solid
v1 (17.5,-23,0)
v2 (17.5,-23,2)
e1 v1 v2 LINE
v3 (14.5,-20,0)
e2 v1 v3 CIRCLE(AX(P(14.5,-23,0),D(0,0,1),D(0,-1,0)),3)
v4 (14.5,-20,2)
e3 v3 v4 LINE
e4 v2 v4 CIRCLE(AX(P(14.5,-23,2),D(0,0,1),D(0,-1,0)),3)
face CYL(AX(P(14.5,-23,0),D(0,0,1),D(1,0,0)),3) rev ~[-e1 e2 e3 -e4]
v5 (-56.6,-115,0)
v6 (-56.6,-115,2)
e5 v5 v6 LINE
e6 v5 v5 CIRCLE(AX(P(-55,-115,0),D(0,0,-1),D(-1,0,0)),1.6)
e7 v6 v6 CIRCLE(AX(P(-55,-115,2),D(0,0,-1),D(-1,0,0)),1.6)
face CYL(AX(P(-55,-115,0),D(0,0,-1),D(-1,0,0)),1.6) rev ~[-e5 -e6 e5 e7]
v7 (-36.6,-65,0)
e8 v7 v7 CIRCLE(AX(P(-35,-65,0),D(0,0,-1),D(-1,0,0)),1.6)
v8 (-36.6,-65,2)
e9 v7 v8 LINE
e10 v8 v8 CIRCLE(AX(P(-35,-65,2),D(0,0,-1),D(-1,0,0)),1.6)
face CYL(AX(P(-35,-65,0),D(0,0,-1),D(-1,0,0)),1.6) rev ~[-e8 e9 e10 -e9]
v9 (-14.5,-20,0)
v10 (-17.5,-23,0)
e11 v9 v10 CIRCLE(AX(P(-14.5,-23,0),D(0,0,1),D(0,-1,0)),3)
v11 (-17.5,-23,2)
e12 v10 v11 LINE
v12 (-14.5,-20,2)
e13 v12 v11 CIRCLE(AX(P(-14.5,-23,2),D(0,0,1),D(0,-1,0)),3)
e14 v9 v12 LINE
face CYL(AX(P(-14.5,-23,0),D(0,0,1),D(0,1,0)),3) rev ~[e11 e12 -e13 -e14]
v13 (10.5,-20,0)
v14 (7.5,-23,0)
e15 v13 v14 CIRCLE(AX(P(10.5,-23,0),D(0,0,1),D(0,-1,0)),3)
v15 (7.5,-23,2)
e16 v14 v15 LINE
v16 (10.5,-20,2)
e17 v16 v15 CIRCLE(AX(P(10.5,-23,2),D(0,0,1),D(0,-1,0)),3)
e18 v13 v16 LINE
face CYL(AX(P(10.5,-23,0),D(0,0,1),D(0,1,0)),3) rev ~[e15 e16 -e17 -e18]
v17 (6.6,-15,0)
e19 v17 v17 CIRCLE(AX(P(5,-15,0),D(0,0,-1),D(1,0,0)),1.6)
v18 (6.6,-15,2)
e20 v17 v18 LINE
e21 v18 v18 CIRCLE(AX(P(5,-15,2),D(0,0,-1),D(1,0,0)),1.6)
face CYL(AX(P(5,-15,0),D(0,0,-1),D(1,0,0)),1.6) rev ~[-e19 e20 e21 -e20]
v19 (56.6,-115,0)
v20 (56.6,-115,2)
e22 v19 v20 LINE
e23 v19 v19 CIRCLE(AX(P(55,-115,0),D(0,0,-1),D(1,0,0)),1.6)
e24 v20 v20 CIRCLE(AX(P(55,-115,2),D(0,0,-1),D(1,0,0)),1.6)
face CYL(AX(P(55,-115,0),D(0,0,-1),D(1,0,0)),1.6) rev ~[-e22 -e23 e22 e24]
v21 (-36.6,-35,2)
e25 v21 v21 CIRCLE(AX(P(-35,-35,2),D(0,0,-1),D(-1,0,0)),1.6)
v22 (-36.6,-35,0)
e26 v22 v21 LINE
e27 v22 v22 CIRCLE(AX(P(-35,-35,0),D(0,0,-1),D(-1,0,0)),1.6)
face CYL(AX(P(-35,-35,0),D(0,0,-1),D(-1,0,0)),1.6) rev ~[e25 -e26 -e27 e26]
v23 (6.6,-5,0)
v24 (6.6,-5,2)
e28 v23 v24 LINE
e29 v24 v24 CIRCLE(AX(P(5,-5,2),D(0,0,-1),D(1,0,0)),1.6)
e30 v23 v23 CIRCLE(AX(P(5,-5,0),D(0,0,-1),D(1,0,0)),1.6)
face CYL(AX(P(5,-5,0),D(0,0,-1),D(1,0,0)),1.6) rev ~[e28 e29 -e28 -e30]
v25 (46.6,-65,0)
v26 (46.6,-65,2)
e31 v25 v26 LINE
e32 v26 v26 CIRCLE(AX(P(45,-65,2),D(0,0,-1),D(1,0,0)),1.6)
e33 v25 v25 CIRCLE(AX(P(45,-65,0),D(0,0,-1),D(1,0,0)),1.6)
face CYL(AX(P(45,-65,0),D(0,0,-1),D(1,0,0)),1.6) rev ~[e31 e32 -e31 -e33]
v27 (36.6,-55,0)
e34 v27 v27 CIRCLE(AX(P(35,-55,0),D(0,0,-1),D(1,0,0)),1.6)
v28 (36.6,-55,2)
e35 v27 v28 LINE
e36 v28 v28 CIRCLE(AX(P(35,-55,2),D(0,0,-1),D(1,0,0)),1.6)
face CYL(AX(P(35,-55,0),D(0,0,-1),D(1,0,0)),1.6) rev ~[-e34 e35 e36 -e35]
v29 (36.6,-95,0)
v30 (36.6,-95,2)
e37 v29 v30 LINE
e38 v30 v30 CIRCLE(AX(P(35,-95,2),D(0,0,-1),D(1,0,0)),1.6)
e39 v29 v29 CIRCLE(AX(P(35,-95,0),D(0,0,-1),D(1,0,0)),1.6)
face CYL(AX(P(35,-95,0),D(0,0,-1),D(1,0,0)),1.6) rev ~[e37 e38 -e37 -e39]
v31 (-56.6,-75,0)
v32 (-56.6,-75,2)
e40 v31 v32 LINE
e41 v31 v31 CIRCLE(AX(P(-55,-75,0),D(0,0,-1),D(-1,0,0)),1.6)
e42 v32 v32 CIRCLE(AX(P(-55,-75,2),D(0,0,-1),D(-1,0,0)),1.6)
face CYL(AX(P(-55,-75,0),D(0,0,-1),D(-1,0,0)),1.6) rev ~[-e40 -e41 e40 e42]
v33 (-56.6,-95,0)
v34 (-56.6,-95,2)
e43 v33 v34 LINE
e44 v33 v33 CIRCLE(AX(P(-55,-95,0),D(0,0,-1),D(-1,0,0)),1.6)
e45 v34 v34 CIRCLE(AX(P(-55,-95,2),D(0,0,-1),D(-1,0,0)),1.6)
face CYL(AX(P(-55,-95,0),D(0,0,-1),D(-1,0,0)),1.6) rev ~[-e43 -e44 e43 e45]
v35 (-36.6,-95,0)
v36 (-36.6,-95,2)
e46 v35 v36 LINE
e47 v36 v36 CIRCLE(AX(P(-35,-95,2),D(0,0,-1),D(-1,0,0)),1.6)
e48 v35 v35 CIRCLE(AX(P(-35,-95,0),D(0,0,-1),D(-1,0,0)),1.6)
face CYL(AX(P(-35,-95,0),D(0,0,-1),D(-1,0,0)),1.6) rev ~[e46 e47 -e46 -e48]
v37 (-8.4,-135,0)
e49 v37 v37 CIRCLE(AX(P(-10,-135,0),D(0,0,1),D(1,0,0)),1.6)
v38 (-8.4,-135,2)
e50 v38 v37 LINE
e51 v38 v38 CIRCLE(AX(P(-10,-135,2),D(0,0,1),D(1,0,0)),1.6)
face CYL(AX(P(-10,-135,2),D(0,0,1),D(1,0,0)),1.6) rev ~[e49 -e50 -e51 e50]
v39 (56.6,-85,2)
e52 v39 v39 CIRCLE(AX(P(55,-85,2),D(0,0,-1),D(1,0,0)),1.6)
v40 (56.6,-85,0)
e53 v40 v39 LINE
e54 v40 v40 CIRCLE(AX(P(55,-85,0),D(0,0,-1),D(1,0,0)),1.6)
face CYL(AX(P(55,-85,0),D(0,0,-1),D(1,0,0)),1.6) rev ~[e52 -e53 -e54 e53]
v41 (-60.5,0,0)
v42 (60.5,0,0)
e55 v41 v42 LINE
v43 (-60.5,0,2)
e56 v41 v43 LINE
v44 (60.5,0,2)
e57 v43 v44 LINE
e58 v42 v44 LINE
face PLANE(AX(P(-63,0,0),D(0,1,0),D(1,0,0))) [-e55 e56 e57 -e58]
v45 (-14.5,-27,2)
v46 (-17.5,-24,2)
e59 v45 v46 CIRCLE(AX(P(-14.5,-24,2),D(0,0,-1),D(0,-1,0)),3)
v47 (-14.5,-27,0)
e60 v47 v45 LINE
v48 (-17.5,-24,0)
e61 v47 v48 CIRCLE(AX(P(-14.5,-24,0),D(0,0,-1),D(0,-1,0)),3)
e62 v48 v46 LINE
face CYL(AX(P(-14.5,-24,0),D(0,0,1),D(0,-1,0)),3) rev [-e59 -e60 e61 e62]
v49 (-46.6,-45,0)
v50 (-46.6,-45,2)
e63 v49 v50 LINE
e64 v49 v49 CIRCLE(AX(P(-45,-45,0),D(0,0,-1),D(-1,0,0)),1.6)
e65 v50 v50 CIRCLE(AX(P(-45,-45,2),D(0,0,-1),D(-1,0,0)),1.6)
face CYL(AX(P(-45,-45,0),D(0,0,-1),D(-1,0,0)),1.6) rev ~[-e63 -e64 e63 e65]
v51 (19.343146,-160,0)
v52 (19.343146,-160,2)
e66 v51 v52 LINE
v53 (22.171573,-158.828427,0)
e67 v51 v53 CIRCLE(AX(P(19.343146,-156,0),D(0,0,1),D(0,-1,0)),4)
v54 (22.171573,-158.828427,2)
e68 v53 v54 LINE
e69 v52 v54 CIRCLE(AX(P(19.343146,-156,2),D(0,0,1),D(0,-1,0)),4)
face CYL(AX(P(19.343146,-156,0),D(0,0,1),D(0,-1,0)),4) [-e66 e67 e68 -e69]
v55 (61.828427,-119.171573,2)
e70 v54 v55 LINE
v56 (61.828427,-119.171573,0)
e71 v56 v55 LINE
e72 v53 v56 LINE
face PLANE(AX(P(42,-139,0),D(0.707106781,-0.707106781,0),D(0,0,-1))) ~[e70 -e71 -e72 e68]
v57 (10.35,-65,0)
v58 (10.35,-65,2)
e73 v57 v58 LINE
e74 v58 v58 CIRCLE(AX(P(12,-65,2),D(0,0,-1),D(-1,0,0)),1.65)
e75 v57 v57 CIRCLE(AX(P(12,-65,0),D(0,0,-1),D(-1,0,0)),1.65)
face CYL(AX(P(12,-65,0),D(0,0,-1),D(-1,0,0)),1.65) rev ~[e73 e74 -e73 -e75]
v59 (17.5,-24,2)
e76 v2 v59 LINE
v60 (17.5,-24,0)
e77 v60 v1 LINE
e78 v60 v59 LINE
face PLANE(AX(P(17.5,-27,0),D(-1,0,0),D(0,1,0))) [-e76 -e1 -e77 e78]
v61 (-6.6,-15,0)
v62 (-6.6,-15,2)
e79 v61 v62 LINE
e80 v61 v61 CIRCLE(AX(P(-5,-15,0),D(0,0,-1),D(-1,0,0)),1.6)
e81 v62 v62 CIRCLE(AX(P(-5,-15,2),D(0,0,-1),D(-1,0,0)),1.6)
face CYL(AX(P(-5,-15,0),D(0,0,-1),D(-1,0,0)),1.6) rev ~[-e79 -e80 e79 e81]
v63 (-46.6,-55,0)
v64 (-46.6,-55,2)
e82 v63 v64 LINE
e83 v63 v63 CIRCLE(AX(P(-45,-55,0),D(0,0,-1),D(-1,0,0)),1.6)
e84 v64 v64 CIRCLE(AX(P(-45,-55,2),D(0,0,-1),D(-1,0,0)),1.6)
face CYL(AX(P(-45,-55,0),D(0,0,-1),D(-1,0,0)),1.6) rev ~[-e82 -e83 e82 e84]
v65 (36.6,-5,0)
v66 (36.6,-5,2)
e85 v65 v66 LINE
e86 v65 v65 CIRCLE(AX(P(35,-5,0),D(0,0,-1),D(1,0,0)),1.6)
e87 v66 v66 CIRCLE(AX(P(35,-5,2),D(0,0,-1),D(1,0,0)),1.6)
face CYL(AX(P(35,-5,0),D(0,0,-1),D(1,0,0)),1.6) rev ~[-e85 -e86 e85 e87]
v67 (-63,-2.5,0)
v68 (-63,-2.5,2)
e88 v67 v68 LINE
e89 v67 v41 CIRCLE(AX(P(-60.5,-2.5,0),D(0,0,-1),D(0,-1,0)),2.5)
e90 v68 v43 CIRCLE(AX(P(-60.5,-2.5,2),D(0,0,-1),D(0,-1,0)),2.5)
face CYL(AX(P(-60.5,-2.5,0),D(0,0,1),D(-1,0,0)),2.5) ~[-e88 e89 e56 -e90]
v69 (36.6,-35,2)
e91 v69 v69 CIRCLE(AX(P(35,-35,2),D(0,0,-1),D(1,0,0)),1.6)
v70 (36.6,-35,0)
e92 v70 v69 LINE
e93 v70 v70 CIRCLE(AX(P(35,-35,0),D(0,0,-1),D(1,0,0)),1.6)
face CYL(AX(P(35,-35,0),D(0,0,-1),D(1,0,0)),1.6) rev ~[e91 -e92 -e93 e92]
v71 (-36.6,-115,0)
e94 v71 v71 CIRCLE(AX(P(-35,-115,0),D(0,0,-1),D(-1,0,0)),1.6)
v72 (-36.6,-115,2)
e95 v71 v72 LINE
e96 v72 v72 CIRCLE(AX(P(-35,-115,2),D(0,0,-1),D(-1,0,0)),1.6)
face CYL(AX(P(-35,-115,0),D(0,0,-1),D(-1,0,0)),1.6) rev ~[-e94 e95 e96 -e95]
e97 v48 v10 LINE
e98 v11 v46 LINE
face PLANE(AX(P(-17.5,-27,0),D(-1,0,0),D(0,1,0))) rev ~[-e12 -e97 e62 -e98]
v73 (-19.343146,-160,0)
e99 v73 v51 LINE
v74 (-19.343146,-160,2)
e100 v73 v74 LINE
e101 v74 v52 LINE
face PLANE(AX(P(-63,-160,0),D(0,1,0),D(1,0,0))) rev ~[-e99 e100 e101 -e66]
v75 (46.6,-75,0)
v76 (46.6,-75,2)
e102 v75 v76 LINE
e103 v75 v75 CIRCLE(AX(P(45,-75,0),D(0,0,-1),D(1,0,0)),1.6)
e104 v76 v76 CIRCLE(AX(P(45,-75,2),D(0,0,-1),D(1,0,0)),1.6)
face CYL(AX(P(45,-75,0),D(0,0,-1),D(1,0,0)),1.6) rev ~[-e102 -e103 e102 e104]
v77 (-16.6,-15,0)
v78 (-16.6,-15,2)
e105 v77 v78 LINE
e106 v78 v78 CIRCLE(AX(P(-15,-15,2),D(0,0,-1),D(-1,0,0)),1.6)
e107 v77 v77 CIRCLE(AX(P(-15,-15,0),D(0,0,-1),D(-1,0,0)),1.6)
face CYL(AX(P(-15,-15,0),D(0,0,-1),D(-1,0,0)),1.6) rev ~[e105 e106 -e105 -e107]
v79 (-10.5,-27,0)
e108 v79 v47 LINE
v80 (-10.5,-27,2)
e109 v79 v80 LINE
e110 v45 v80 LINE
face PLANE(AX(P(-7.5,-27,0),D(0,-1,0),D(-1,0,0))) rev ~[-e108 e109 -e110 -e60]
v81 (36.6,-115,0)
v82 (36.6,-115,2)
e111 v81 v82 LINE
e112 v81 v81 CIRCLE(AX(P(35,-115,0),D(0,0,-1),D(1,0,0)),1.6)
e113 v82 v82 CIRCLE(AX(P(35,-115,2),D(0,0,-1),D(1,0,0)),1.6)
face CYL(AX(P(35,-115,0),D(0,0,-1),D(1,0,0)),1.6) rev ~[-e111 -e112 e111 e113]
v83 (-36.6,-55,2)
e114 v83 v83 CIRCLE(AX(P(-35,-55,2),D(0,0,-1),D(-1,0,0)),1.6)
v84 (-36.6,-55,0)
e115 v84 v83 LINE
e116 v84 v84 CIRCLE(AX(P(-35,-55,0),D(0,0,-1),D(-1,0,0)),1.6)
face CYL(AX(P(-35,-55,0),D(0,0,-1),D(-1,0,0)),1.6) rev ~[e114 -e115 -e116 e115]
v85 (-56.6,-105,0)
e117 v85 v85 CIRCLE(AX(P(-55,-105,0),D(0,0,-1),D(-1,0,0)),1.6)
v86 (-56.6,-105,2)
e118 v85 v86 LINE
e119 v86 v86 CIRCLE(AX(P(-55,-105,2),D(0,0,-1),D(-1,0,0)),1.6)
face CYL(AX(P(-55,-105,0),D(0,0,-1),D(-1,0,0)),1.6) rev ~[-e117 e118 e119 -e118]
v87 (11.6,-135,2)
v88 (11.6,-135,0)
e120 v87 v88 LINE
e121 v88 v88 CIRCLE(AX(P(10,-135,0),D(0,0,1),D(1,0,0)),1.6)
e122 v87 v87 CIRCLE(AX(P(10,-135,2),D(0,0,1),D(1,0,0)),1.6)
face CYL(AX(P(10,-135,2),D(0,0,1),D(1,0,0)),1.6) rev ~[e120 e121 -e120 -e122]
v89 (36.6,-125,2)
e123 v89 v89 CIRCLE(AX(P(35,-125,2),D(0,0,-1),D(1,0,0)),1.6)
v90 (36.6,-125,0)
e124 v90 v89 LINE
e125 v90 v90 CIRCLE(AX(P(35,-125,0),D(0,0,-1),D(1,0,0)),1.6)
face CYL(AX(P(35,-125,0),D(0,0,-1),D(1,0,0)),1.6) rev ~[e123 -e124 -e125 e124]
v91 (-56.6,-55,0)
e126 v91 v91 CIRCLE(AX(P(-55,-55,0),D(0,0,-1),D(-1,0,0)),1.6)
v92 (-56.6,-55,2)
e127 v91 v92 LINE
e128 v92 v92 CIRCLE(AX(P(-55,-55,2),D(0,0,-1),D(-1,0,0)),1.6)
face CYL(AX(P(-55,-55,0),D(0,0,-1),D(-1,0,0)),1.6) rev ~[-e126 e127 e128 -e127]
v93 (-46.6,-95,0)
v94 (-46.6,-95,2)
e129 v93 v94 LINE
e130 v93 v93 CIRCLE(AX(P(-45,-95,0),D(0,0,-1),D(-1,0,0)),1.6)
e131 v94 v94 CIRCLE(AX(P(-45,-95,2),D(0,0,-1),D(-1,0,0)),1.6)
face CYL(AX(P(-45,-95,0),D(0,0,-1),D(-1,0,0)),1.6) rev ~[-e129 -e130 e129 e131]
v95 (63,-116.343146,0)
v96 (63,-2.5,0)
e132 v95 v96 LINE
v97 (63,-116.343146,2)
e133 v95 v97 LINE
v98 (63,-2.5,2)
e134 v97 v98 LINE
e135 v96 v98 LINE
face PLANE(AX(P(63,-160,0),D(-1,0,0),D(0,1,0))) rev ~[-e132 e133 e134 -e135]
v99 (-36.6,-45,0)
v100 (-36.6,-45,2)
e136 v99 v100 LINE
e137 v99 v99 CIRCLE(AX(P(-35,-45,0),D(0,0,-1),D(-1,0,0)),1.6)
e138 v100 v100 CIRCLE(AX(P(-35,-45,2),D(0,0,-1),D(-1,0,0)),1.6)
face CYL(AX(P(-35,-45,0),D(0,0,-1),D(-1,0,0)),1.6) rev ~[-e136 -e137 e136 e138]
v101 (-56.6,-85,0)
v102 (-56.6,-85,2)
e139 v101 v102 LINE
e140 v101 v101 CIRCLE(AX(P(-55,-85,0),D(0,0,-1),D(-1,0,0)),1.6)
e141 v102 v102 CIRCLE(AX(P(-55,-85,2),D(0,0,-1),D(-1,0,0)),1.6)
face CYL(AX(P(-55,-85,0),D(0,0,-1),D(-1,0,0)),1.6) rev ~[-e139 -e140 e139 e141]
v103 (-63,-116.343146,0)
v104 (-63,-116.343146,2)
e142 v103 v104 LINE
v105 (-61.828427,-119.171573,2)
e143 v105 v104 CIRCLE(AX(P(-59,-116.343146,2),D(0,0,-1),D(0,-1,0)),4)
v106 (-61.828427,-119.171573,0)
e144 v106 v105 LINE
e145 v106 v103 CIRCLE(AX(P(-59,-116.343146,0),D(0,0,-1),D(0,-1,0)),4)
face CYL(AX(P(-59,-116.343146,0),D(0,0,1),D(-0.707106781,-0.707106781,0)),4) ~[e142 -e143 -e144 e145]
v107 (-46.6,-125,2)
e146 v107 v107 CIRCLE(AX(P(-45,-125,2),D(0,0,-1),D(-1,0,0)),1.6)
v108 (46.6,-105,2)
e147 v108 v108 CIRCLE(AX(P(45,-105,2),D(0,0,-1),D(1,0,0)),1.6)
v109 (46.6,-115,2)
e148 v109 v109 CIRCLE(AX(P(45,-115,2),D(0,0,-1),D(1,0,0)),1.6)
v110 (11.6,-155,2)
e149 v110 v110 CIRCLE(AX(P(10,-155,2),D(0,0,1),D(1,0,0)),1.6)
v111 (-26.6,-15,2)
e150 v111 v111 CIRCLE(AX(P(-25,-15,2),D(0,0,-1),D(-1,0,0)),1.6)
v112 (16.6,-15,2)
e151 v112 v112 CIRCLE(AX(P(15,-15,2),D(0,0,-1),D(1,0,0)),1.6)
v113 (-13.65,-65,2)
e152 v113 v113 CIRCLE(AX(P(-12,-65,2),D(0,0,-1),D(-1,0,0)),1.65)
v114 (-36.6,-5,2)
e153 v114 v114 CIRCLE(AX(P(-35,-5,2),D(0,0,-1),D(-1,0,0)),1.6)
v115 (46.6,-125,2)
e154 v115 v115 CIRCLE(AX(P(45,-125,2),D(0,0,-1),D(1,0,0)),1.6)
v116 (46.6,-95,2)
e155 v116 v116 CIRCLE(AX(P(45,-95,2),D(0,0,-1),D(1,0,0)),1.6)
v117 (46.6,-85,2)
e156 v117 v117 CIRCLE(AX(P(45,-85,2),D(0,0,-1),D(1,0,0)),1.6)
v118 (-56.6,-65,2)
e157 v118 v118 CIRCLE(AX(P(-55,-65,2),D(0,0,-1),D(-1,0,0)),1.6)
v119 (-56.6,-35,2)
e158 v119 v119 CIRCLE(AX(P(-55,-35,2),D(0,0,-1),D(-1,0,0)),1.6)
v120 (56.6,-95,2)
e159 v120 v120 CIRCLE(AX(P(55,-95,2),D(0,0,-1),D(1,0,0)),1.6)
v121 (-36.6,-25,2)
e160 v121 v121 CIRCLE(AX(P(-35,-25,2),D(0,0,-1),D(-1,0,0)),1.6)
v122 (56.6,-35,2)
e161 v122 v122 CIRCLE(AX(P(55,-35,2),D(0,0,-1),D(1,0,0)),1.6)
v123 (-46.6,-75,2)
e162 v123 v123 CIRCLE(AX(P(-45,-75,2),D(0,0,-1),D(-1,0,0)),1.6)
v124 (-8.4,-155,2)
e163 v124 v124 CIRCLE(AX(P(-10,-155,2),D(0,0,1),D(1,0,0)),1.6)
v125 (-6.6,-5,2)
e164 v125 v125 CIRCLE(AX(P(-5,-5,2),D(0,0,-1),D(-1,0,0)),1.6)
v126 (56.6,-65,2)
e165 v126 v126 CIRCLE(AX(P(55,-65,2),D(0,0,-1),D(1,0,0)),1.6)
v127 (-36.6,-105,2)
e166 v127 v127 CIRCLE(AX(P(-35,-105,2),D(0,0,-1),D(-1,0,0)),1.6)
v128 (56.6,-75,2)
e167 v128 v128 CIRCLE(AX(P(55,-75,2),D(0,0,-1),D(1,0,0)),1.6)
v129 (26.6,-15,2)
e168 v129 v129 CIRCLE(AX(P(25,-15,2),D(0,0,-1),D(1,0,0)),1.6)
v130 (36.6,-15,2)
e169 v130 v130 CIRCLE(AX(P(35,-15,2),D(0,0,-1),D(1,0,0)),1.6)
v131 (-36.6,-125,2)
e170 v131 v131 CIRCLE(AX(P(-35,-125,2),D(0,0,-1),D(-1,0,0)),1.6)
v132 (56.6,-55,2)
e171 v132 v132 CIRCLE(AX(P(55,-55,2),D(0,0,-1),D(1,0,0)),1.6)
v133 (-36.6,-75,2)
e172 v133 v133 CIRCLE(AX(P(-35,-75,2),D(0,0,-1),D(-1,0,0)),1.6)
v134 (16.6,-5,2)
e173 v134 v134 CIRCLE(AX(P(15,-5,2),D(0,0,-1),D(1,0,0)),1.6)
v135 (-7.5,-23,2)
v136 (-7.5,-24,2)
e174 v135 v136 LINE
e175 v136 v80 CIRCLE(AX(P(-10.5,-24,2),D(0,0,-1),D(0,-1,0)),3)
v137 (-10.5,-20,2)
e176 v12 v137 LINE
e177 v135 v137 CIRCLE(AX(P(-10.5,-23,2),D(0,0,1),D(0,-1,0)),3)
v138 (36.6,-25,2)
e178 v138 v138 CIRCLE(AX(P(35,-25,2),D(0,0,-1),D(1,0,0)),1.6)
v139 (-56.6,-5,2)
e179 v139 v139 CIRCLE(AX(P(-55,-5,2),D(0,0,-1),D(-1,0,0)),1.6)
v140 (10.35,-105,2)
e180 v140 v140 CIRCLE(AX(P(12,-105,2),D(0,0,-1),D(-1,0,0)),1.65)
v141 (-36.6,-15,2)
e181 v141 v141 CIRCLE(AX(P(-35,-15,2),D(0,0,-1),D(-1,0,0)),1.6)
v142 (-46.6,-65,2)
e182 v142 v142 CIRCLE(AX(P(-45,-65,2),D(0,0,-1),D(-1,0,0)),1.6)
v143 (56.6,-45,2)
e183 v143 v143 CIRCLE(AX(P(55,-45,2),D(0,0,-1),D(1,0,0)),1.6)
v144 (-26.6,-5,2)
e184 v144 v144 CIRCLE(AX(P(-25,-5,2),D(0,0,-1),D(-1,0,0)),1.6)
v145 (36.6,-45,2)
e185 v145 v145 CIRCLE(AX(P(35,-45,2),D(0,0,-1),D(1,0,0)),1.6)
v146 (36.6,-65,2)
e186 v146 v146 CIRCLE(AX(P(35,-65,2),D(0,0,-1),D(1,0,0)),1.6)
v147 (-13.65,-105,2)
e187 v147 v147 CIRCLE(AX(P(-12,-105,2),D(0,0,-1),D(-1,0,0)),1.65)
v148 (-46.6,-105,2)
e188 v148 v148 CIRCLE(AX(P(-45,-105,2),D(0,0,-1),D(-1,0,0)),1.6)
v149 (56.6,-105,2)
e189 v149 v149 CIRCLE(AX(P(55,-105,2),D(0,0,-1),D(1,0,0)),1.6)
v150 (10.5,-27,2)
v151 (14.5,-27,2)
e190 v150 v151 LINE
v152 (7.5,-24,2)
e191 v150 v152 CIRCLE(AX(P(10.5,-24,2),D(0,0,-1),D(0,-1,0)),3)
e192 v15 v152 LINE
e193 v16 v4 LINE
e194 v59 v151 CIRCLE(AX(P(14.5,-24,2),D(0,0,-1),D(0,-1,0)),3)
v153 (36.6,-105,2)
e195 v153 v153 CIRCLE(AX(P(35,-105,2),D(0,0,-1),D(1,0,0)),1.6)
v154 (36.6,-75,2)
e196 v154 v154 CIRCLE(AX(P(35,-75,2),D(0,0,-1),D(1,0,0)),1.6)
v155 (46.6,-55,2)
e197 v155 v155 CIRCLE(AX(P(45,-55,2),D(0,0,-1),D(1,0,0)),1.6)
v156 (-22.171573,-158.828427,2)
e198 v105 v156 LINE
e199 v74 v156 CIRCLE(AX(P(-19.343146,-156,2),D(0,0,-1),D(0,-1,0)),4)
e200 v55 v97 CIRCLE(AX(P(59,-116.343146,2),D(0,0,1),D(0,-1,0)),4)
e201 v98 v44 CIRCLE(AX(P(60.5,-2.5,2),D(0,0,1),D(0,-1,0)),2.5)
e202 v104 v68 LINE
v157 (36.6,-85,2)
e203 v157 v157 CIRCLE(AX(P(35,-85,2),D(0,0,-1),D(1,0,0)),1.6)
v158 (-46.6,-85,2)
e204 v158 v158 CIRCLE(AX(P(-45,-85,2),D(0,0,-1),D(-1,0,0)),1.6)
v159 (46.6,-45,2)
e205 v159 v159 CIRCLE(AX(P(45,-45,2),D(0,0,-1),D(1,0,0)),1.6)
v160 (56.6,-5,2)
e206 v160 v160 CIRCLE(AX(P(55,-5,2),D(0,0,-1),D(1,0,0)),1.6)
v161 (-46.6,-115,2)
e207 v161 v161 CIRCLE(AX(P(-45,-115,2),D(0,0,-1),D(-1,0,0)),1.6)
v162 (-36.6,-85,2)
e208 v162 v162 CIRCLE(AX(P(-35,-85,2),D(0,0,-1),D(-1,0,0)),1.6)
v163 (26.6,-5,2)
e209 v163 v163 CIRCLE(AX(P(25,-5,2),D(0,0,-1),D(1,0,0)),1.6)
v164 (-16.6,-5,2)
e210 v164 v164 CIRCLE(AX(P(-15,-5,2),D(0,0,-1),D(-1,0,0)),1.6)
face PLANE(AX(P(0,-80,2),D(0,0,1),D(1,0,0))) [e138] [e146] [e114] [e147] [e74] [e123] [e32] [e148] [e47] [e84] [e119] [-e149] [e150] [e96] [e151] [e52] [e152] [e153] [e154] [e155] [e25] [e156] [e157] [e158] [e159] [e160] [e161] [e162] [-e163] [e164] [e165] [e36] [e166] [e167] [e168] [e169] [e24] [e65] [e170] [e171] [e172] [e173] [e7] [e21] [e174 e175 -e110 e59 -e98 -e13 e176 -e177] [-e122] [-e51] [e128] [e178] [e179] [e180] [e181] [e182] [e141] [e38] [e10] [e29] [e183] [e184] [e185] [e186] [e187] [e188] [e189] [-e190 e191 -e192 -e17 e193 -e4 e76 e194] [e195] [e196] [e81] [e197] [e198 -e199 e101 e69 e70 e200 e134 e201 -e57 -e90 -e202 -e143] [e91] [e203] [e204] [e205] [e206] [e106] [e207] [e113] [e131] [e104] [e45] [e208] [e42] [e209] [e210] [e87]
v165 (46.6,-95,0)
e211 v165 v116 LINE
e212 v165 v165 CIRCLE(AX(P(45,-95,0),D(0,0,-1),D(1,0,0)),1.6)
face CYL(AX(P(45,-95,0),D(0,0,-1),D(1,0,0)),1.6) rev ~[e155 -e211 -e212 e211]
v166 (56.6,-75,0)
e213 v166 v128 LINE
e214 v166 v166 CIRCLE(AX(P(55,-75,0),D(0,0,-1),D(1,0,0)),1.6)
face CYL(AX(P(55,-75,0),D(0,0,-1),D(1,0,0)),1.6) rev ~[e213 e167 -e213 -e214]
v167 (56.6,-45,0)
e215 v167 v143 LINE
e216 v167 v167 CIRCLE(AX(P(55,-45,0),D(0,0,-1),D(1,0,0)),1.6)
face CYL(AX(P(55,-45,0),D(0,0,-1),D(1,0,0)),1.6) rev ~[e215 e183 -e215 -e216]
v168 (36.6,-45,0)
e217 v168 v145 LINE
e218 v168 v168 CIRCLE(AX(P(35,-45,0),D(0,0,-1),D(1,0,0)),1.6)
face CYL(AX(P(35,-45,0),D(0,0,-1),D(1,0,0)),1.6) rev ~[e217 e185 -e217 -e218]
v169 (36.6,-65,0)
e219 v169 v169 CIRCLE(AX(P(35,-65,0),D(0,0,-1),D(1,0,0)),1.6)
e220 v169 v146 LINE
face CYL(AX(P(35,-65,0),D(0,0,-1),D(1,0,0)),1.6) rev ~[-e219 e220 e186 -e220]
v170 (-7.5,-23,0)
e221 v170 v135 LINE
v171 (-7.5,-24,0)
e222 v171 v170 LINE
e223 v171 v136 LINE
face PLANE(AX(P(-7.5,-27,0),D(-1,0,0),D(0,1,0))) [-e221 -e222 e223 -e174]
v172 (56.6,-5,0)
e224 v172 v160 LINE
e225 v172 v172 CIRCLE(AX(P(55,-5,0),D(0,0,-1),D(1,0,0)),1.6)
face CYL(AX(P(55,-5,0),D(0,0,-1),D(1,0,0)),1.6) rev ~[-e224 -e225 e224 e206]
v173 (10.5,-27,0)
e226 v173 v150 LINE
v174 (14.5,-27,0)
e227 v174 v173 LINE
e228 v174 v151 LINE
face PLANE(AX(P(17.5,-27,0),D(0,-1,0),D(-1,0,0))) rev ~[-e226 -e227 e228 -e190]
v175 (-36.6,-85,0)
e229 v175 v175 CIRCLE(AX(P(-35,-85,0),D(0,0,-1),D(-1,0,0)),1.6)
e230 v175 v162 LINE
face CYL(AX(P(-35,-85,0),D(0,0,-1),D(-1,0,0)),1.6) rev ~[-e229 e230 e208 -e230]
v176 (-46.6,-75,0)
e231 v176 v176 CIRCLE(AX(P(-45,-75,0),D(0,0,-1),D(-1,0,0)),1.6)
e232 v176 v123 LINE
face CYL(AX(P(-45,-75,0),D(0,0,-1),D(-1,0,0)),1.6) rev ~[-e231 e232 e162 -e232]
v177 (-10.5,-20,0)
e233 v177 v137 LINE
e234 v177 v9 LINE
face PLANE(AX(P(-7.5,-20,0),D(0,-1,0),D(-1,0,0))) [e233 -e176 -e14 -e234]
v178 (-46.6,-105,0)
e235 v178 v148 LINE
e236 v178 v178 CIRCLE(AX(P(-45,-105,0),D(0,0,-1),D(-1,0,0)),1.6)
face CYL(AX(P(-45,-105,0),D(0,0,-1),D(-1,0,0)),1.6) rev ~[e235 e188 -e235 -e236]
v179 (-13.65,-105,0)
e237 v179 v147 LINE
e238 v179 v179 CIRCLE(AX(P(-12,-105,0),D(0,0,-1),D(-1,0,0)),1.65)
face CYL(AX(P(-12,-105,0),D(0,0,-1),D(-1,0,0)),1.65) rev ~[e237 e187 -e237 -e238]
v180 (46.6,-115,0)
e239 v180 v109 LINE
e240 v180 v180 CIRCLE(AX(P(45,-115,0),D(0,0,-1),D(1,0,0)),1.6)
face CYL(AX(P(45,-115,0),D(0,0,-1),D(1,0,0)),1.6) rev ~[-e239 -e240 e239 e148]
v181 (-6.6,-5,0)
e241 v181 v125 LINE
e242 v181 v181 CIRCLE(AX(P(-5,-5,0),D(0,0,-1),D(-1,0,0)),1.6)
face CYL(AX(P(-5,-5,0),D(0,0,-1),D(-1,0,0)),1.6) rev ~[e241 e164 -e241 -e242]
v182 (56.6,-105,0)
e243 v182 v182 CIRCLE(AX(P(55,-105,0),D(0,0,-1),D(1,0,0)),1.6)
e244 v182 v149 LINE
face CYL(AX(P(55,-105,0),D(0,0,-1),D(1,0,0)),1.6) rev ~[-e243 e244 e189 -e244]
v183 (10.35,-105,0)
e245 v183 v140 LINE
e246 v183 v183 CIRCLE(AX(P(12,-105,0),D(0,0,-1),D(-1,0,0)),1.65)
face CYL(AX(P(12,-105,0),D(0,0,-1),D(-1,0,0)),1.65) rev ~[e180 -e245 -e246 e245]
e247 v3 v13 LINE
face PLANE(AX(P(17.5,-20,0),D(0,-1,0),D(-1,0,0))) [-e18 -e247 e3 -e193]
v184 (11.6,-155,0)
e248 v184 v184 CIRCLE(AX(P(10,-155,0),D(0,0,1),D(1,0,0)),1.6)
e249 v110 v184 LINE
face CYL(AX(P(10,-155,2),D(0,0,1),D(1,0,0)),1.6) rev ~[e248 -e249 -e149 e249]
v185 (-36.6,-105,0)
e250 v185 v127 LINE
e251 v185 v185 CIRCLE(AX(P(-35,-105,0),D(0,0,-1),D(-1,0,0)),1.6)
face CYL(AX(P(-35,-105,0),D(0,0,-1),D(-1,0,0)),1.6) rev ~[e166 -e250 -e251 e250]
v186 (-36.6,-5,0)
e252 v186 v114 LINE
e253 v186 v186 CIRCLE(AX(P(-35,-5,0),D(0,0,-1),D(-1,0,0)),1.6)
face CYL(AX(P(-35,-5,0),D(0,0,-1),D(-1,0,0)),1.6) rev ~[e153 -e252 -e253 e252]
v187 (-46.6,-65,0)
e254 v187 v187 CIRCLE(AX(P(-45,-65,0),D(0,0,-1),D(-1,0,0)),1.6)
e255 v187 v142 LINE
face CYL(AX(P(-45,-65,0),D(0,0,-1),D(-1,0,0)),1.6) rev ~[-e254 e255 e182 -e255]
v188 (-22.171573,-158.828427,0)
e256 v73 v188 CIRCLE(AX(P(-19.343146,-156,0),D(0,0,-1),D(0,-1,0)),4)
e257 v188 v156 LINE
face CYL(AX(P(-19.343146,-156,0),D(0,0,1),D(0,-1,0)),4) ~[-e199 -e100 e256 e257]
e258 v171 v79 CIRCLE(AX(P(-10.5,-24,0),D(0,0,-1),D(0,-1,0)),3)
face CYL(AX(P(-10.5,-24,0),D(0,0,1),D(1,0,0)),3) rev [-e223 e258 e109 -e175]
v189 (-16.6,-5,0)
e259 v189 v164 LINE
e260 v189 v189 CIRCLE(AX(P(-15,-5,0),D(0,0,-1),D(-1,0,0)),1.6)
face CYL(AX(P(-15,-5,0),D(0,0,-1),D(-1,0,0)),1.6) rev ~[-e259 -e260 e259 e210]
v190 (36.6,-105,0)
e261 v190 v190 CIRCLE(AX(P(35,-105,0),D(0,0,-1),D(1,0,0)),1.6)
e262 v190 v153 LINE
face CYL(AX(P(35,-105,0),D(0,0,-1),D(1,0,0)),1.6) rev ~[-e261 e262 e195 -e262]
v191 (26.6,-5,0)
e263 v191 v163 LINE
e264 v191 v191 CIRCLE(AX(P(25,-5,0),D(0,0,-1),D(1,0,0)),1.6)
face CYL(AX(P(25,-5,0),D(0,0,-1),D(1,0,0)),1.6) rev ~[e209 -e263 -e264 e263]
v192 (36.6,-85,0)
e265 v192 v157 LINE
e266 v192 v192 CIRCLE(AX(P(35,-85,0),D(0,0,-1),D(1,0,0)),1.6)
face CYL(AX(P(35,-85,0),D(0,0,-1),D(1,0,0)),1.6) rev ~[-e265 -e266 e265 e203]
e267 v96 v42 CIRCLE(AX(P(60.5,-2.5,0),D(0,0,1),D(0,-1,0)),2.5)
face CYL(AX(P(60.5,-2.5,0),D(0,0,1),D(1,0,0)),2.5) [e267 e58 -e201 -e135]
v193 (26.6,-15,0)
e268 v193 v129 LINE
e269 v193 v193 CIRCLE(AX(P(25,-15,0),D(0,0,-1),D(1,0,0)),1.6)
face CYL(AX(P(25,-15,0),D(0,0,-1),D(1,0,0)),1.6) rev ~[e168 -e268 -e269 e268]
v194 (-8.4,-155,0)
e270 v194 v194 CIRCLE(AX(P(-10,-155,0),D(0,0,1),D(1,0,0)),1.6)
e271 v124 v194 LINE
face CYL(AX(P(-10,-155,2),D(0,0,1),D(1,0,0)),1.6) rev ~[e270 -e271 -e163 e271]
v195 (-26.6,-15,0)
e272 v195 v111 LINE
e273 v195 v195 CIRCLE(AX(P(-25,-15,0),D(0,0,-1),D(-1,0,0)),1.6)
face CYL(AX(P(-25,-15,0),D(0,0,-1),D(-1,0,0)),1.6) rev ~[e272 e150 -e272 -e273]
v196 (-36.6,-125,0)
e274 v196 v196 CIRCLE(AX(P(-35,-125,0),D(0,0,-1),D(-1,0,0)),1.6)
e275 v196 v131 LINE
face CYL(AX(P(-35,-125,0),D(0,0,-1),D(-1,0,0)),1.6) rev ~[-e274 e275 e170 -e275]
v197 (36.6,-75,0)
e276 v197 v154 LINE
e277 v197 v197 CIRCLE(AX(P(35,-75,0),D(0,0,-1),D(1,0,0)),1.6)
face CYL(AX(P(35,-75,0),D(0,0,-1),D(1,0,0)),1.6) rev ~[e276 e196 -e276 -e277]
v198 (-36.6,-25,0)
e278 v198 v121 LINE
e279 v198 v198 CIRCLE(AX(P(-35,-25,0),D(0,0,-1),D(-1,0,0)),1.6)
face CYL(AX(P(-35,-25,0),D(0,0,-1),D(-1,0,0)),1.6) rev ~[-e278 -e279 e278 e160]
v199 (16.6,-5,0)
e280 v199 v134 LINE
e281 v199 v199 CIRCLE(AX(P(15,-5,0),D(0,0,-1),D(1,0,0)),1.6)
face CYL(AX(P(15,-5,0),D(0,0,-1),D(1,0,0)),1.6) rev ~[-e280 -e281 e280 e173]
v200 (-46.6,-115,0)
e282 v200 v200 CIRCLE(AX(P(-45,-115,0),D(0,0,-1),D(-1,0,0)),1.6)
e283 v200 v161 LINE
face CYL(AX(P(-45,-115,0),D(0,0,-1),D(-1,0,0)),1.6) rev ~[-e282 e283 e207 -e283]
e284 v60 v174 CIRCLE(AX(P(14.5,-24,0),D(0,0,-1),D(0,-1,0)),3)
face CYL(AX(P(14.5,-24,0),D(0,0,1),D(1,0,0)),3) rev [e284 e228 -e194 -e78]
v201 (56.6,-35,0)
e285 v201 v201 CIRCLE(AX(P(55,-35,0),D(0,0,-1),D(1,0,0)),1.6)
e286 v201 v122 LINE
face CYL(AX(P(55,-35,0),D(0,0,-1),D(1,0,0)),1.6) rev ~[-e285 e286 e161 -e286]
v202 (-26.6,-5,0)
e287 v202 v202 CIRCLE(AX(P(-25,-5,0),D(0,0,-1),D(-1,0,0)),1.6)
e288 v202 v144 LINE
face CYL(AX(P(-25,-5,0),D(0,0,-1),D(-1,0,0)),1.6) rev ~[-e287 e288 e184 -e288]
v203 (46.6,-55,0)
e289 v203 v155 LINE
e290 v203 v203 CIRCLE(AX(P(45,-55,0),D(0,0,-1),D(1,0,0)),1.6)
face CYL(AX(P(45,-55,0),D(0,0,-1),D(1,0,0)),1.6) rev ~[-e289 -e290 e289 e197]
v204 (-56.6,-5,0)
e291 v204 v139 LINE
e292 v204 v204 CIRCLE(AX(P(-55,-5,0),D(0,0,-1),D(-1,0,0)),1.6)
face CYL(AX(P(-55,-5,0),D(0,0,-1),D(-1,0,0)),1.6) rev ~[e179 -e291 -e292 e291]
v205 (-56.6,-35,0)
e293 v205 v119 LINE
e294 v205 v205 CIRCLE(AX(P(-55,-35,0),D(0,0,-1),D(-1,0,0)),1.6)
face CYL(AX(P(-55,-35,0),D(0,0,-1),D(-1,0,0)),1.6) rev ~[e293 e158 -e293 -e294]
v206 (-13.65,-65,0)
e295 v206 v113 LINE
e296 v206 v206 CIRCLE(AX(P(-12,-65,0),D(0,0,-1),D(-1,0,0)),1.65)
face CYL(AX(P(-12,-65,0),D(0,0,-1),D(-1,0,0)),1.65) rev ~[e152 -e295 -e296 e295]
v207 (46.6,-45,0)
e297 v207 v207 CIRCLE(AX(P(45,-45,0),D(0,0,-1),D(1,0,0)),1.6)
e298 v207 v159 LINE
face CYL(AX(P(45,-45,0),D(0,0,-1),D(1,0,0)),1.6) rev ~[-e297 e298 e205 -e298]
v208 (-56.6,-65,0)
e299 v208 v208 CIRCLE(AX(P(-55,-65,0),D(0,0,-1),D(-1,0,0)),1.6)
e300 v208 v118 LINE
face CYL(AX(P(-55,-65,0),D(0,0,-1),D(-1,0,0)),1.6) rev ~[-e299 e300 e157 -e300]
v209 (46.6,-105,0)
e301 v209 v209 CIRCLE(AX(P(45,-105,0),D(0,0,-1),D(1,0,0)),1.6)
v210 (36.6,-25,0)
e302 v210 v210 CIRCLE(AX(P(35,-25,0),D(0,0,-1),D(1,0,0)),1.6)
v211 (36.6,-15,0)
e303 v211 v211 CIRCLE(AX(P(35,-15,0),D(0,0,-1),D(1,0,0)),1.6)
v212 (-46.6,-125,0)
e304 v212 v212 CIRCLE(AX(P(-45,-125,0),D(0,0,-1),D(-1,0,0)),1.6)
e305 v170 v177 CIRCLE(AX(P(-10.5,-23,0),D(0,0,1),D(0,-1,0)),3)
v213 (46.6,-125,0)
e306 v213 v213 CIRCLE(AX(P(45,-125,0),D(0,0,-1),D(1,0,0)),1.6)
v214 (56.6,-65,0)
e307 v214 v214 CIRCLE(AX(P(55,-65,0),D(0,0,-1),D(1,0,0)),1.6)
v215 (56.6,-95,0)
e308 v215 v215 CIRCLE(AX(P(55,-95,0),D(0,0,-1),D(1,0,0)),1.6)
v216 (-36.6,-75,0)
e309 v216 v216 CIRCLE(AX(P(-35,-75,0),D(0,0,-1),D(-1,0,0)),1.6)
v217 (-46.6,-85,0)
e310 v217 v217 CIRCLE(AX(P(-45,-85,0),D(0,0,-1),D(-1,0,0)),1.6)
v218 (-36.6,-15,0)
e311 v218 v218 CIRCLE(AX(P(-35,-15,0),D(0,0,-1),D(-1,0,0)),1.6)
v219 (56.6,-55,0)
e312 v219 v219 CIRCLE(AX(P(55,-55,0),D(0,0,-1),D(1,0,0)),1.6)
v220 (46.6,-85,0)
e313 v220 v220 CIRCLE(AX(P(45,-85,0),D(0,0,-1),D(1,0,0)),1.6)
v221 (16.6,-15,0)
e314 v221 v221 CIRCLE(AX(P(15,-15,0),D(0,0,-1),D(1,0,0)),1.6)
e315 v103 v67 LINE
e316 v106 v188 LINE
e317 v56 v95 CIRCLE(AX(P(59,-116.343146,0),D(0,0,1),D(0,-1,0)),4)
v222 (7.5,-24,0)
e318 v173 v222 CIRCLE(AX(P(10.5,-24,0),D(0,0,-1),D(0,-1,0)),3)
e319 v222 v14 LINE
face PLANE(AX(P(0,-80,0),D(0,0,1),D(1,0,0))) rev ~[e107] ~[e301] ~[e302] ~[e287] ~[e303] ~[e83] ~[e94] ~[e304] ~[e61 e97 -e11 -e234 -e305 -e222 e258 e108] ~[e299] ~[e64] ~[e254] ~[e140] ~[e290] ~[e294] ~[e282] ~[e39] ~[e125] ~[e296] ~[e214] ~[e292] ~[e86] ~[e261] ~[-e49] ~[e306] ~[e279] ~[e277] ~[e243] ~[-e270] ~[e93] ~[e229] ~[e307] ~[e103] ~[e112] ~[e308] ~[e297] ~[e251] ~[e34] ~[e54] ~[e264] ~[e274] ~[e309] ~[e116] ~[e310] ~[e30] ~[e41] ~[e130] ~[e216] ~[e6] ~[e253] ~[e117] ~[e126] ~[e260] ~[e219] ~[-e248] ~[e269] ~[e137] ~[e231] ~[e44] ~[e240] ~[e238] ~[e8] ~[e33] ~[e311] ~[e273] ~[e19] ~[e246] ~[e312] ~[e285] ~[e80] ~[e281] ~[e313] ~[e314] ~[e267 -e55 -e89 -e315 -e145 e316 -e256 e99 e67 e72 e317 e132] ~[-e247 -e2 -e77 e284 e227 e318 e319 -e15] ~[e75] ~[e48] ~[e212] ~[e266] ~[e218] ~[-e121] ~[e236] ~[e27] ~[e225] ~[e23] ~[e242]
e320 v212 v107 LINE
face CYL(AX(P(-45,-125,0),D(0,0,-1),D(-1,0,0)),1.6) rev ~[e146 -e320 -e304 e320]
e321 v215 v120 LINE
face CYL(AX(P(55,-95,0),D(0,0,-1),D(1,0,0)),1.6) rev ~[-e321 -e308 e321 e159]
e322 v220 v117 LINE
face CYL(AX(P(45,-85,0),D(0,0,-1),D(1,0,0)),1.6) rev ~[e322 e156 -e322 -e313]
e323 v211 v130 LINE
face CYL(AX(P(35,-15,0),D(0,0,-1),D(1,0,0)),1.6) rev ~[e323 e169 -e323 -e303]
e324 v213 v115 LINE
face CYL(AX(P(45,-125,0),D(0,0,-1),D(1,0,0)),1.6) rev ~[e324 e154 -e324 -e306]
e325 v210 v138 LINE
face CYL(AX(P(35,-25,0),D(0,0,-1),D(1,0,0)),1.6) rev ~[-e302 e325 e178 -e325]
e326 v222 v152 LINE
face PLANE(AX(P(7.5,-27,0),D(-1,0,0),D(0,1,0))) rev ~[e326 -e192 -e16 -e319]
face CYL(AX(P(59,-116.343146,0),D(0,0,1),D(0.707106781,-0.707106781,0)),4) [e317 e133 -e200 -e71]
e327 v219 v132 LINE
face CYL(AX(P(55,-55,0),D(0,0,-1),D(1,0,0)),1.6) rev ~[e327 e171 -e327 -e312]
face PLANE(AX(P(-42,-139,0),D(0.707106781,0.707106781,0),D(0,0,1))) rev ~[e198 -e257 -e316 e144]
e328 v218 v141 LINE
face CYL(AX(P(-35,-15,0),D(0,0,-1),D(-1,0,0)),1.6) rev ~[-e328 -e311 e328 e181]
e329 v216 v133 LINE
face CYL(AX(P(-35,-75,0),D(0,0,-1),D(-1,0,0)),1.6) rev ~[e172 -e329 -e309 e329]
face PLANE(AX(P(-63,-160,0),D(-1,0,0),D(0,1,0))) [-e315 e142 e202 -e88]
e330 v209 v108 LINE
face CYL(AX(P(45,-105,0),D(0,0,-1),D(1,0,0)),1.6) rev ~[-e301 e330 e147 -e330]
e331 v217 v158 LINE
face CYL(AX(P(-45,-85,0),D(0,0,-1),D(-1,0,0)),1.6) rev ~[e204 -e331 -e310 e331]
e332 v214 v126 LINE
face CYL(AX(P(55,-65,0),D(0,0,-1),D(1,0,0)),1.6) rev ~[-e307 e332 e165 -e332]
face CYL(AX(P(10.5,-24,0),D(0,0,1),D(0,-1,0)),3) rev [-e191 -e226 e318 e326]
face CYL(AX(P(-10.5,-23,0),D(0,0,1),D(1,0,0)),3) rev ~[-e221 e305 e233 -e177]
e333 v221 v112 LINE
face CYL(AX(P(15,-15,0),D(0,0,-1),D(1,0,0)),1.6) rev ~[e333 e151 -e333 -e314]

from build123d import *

# Parameters (mm, degrees)
SKETCH_1_W              = 126
SKETCH_1_H              = 160
EXTRUDE_427_DEPTH       = 2
CUT_EXTRUDE_997_REACH   = 173.968
SKETCH_2_R              = 1.6
SKETCH_3_R              = 1.65
CUT_EXTRUDE_1271_DEPTH  = 172.968020283
CHAMFER_2_SIZE          = 42
CHAMFER_1_SIZE          = 42
FILLET_1_R              = 4
SKETCH_6_W              = 10
SKETCH_6_H              = 7
CUT_EXTRUDE_2009_DEPTH  = 172.968020283
SKETCH_4_R              = 1.6
CUT_EXTRUDE_10_10_DEPTH = 172.968020283
FILLET_2_R              = 3
FILLET_3_R              = 2.5


with BuildPart() as part:
    # Эскиз1 → Extrude 427 (new body)
    with BuildSketch(Plane.XY):
        with Locations((0, -80)):
            Rectangle(SKETCH_1_W, SKETCH_1_H)
    extrude(amount=EXTRUDE_427_DEPTH)

    # Эскиз2 → Cut-Extrude 997 (cut, up to next)
    with BuildSketch(Plane.XY.offset(2), mode=Mode.PRIVATE) as cut_extrude_997_sk1:
        with Locations((10, -135)):
            Circle(SKETCH_2_R)
    cut_extrude_997_tool1 = extrude(cut_extrude_997_sk1.sketch, amount=-CUT_EXTRUDE_997_REACH, mode=Mode.PRIVATE) & part.part
    # Эскиз2 → Cut-Extrude 997 (cut, up to next)
    with BuildSketch(Plane.XY.offset(2), mode=Mode.PRIVATE) as cut_extrude_997_sk2:
        with Locations((-10, -135)):
            Circle(SKETCH_2_R)
    cut_extrude_997_tool2 = extrude(cut_extrude_997_sk2.sketch, amount=-CUT_EXTRUDE_997_REACH, mode=Mode.PRIVATE) & part.part
    # Эскиз2 → Cut-Extrude 997 (cut, up to next)
    with BuildSketch(Plane.XY.offset(2), mode=Mode.PRIVATE) as cut_extrude_997_sk3:
        with Locations((-10, -155)):
            Circle(SKETCH_2_R)
    cut_extrude_997_tool3 = extrude(cut_extrude_997_sk3.sketch, amount=-CUT_EXTRUDE_997_REACH, mode=Mode.PRIVATE) & part.part
    # Эскиз2 → Cut-Extrude 997 (cut, up to next)
    with BuildSketch(Plane.XY.offset(2), mode=Mode.PRIVATE) as cut_extrude_997_sk4:
        with Locations((10, -155)):
            Circle(SKETCH_2_R)
    cut_extrude_997_tool4 = extrude(cut_extrude_997_sk4.sketch, amount=-CUT_EXTRUDE_997_REACH, mode=Mode.PRIVATE) & part.part
    add(cut_extrude_997_tool1.solids().sort_by_distance((10, -135, 2))[0], mode=Mode.SUBTRACT)
    add(cut_extrude_997_tool2.solids().sort_by_distance((-10, -135, 2))[0], mode=Mode.SUBTRACT)
    add(cut_extrude_997_tool3.solids().sort_by_distance((-10, -155, 2))[0], mode=Mode.SUBTRACT)
    add(cut_extrude_997_tool4.solids().sort_by_distance((10, -155, 2))[0], mode=Mode.SUBTRACT)

    # Эскиз3 → Cut-Extrude 1271 (cut, through all)
    with BuildSketch(Plane(origin=(0, 0, 0), x_dir=(-1, 0, 0), z_dir=(0, 0, -1))):
        with Locations((-12, -65)):
            Circle(SKETCH_3_R)
        with Locations((12, -65)):
            Circle(SKETCH_3_R)
        with Locations((12, -105)):
            Circle(SKETCH_3_R)
        with Locations((-12, -105)):
            Circle(SKETCH_3_R)
    extrude(amount=-CUT_EXTRUDE_1271_DEPTH, mode=Mode.SUBTRACT)

    # Фаска2
    chamfer_2_edges = [part.edges().sort_by_distance(p)[0] for p in [
        (-63, -160, 1),
    ]]
    chamfer(chamfer_2_edges, length=CHAMFER_2_SIZE)

    # Фаска1
    chamfer_1_edges = [part.edges().sort_by_distance(p)[0] for p in [
        (63, -160, 1),
    ]]
    chamfer(chamfer_1_edges, length=CHAMFER_1_SIZE)

    # Скругление1
    fillet_1_edges = [part.edges().sort_by_distance(p)[0] for p in [
        (-21, -160, 1),
        (-63, -118, 1),
        (63, -118, 1),
        (21, -160, 1),
    ]]
    fillet(fillet_1_edges, radius=FILLET_1_R)

    # Эскиз6 → Cut-Extrude 2009 (cut, through all)
    with BuildSketch(Plane(origin=(0, 0, 0), x_dir=(-1, 0, 0), z_dir=(0, 0, -1))):
        with Locations((-12.5, -23.5)):
            Rectangle(SKETCH_6_W, SKETCH_6_H)
        with Locations((12.5, -23.5)):
            Rectangle(SKETCH_6_W, SKETCH_6_H)
    extrude(amount=-CUT_EXTRUDE_2009_DEPTH, mode=Mode.SUBTRACT)

    # Эскиз4 → Сетка отв 10х10 (cut, through all)
    with BuildSketch(Plane(origin=(0, 0, 0), x_dir=(-1, 0, 0), z_dir=(0, 0, -1))):
        with Locations((35, -125)):
            Circle(SKETCH_4_R)
        with Locations((45, -125)):
            Circle(SKETCH_4_R)
        with Locations(Location((-45, -125, 0), (0, 0, 180))):
            Circle(SKETCH_4_R)
        with Locations(Location((-35, -125, 0), (0, 0, 180))):
            Circle(SKETCH_4_R)
        with Locations((35, -115)):
            Circle(SKETCH_4_R)
        with Locations((45, -115)):
            Circle(SKETCH_4_R)
        with Locations((55, -115)):
            Circle(SKETCH_4_R)
        with Locations(Location((-55, -115, 0), (0, 0, 180))):
            Circle(SKETCH_4_R)
        with Locations(Location((-45, -115, 0), (0, 0, 180))):
            Circle(SKETCH_4_R)
        with Locations(Location((-35, -115, 0), (0, 0, 180))):
            Circle(SKETCH_4_R)
        with Locations((35, -105)):
            Circle(SKETCH_4_R)
        with Locations((45, -105)):
            Circle(SKETCH_4_R)
        with Locations((55, -105)):
            Circle(SKETCH_4_R)
        with Locations(Location((-55, -105, 0), (0, 0, 180))):
            Circle(SKETCH_4_R)
        with Locations(Location((-45, -105, 0), (0, 0, 180))):
            Circle(SKETCH_4_R)
        with Locations(Location((-35, -105, 0), (0, 0, 180))):
            Circle(SKETCH_4_R)
        with Locations((35, -95)):
            Circle(SKETCH_4_R)
        with Locations((45, -95)):
            Circle(SKETCH_4_R)
        with Locations((55, -95)):
            Circle(SKETCH_4_R)
        with Locations(Location((-55, -95, 0), (0, 0, 180))):
            Circle(SKETCH_4_R)
        with Locations(Location((-45, -95, 0), (0, 0, 180))):
            Circle(SKETCH_4_R)
        with Locations(Location((-35, -95, 0), (0, 0, 180))):
            Circle(SKETCH_4_R)
        with Locations((35, -85)):
            Circle(SKETCH_4_R)
        with Locations((45, -85)):
            Circle(SKETCH_4_R)
        with Locations((55, -85)):
            Circle(SKETCH_4_R)
        with Locations(Location((-55, -85, 0), (0, 0, 180))):
            Circle(SKETCH_4_R)
        with Locations(Location((-45, -85, 0), (0, 0, 180))):
            Circle(SKETCH_4_R)
        with Locations(Location((-35, -85, 0), (0, 0, 180))):
            Circle(SKETCH_4_R)
        with Locations((35, -75)):
            Circle(SKETCH_4_R)
        with Locations((45, -75)):
            Circle(SKETCH_4_R)
        with Locations((55, -75)):
            Circle(SKETCH_4_R)
        with Locations(Location((-55, -75, 0), (0, 0, 180))):
            Circle(SKETCH_4_R)
        with Locations(Location((-45, -75, 0), (0, 0, 180))):
            Circle(SKETCH_4_R)
        with Locations(Location((-35, -75, 0), (0, 0, 180))):
            Circle(SKETCH_4_R)
        with Locations((35, -65)):
            Circle(SKETCH_4_R)
        with Locations((45, -65)):
            Circle(SKETCH_4_R)
        with Locations((55, -65)):
            Circle(SKETCH_4_R)
        with Locations(Location((-55, -65, 0), (0, 0, 180))):
            Circle(SKETCH_4_R)
        with Locations(Location((-45, -65, 0), (0, 0, 180))):
            Circle(SKETCH_4_R)
        with Locations(Location((-35, -65, 0), (0, 0, 180))):
            Circle(SKETCH_4_R)
        with Locations((35, -55)):
            Circle(SKETCH_4_R)
        with Locations((45, -55)):
            Circle(SKETCH_4_R)
        with Locations((55, -55)):
            Circle(SKETCH_4_R)
        with Locations(Location((-55, -55, 0), (0, 0, 180))):
            Circle(SKETCH_4_R)
        with Locations(Location((-45, -55, 0), (0, 0, 180))):
            Circle(SKETCH_4_R)
        with Locations(Location((-35, -55, 0), (0, 0, 180))):
            Circle(SKETCH_4_R)
        with Locations((35, -45)):
            Circle(SKETCH_4_R)
        with Locations((45, -45)):
            Circle(SKETCH_4_R)
        with Locations(Location((-55, -45, 0), (0, 0, 180))):
            Circle(SKETCH_4_R)
        with Locations(Location((-45, -45, 0), (0, 0, 180))):
            Circle(SKETCH_4_R)
        with Locations(Location((-35, -45, 0), (0, 0, 180))):
            Circle(SKETCH_4_R)
        with Locations((35, -35)):
            Circle(SKETCH_4_R)
        with Locations((55, -35)):
            Circle(SKETCH_4_R)
        with Locations(Location((-55, -35, 0), (0, 0, 180))):
            Circle(SKETCH_4_R)
        with Locations(Location((-35, -35, 0), (0, 0, 180))):
            Circle(SKETCH_4_R)
        with Locations((35, -25)):
            Circle(SKETCH_4_R)
        with Locations(Location((-35, -25, 0), (0, 0, 180))):
            Circle(SKETCH_4_R)
        with Locations((5, -15)):
            Circle(SKETCH_4_R)
        with Locations((15, -15)):
            Circle(SKETCH_4_R)
        with Locations((25, -15)):
            Circle(SKETCH_4_R)
        with Locations((35, -15)):
            Circle(SKETCH_4_R)
        with Locations(Location((-35, -15, 0), (0, 0, 180))):
            Circle(SKETCH_4_R)
        with Locations(Location((-25, -15, 0), (0, 0, 180))):
            Circle(SKETCH_4_R)
        with Locations(Location((-15, -15, 0), (0, 0, 180))):
            Circle(SKETCH_4_R)
        with Locations(Location((-5, -15, 0), (0, 0, 180))):
            Circle(SKETCH_4_R)
        with Locations((5, -5)):
            Circle(SKETCH_4_R)
        with Locations((15, -5)):
            Circle(SKETCH_4_R)
        with Locations((25, -5)):
            Circle(SKETCH_4_R)
        with Locations((35, -5)):
            Circle(SKETCH_4_R)
        with Locations((55, -5)):
            Circle(SKETCH_4_R)
        with Locations(Location((-55, -5, 0), (0, 0, 180))):
            Circle(SKETCH_4_R)
        with Locations(Location((-35, -5, 0), (0, 0, 180))):
            Circle(SKETCH_4_R)
        with Locations(Location((-25, -5, 0), (0, 0, 180))):
            Circle(SKETCH_4_R)
        with Locations(Location((-15, -5, 0), (0, 0, 180))):
            Circle(SKETCH_4_R)
        with Locations(Location((-5, -5, 0), (0, 0, 180))):
            Circle(SKETCH_4_R)
    extrude(amount=-CUT_EXTRUDE_10_10_DEPTH, mode=Mode.SUBTRACT)

    # Скругление2
    fillet_2_edges = [part.edges().sort_by_distance(p)[0] for p in [
        (-7.5, -20, 1),
        (-17.5, -20, 1),
        (-17.5, -27, 1),
        (-7.5, -27, 1),
        (17.5, -27, 1),
        (17.5, -20, 1),
        (7.5, -20, 1),
        (7.5, -27, 1),
    ]]
    fillet(fillet_2_edges, radius=FILLET_2_R)

    # Скругление3
    fillet_3_edges = [part.edges().sort_by_distance(p)[0] for p in [
        (-63, 0, 1),
        (63, 0, 1),
    ]]
    fillet(fillet_3_edges, radius=FILLET_3_R)


solid = part.part
